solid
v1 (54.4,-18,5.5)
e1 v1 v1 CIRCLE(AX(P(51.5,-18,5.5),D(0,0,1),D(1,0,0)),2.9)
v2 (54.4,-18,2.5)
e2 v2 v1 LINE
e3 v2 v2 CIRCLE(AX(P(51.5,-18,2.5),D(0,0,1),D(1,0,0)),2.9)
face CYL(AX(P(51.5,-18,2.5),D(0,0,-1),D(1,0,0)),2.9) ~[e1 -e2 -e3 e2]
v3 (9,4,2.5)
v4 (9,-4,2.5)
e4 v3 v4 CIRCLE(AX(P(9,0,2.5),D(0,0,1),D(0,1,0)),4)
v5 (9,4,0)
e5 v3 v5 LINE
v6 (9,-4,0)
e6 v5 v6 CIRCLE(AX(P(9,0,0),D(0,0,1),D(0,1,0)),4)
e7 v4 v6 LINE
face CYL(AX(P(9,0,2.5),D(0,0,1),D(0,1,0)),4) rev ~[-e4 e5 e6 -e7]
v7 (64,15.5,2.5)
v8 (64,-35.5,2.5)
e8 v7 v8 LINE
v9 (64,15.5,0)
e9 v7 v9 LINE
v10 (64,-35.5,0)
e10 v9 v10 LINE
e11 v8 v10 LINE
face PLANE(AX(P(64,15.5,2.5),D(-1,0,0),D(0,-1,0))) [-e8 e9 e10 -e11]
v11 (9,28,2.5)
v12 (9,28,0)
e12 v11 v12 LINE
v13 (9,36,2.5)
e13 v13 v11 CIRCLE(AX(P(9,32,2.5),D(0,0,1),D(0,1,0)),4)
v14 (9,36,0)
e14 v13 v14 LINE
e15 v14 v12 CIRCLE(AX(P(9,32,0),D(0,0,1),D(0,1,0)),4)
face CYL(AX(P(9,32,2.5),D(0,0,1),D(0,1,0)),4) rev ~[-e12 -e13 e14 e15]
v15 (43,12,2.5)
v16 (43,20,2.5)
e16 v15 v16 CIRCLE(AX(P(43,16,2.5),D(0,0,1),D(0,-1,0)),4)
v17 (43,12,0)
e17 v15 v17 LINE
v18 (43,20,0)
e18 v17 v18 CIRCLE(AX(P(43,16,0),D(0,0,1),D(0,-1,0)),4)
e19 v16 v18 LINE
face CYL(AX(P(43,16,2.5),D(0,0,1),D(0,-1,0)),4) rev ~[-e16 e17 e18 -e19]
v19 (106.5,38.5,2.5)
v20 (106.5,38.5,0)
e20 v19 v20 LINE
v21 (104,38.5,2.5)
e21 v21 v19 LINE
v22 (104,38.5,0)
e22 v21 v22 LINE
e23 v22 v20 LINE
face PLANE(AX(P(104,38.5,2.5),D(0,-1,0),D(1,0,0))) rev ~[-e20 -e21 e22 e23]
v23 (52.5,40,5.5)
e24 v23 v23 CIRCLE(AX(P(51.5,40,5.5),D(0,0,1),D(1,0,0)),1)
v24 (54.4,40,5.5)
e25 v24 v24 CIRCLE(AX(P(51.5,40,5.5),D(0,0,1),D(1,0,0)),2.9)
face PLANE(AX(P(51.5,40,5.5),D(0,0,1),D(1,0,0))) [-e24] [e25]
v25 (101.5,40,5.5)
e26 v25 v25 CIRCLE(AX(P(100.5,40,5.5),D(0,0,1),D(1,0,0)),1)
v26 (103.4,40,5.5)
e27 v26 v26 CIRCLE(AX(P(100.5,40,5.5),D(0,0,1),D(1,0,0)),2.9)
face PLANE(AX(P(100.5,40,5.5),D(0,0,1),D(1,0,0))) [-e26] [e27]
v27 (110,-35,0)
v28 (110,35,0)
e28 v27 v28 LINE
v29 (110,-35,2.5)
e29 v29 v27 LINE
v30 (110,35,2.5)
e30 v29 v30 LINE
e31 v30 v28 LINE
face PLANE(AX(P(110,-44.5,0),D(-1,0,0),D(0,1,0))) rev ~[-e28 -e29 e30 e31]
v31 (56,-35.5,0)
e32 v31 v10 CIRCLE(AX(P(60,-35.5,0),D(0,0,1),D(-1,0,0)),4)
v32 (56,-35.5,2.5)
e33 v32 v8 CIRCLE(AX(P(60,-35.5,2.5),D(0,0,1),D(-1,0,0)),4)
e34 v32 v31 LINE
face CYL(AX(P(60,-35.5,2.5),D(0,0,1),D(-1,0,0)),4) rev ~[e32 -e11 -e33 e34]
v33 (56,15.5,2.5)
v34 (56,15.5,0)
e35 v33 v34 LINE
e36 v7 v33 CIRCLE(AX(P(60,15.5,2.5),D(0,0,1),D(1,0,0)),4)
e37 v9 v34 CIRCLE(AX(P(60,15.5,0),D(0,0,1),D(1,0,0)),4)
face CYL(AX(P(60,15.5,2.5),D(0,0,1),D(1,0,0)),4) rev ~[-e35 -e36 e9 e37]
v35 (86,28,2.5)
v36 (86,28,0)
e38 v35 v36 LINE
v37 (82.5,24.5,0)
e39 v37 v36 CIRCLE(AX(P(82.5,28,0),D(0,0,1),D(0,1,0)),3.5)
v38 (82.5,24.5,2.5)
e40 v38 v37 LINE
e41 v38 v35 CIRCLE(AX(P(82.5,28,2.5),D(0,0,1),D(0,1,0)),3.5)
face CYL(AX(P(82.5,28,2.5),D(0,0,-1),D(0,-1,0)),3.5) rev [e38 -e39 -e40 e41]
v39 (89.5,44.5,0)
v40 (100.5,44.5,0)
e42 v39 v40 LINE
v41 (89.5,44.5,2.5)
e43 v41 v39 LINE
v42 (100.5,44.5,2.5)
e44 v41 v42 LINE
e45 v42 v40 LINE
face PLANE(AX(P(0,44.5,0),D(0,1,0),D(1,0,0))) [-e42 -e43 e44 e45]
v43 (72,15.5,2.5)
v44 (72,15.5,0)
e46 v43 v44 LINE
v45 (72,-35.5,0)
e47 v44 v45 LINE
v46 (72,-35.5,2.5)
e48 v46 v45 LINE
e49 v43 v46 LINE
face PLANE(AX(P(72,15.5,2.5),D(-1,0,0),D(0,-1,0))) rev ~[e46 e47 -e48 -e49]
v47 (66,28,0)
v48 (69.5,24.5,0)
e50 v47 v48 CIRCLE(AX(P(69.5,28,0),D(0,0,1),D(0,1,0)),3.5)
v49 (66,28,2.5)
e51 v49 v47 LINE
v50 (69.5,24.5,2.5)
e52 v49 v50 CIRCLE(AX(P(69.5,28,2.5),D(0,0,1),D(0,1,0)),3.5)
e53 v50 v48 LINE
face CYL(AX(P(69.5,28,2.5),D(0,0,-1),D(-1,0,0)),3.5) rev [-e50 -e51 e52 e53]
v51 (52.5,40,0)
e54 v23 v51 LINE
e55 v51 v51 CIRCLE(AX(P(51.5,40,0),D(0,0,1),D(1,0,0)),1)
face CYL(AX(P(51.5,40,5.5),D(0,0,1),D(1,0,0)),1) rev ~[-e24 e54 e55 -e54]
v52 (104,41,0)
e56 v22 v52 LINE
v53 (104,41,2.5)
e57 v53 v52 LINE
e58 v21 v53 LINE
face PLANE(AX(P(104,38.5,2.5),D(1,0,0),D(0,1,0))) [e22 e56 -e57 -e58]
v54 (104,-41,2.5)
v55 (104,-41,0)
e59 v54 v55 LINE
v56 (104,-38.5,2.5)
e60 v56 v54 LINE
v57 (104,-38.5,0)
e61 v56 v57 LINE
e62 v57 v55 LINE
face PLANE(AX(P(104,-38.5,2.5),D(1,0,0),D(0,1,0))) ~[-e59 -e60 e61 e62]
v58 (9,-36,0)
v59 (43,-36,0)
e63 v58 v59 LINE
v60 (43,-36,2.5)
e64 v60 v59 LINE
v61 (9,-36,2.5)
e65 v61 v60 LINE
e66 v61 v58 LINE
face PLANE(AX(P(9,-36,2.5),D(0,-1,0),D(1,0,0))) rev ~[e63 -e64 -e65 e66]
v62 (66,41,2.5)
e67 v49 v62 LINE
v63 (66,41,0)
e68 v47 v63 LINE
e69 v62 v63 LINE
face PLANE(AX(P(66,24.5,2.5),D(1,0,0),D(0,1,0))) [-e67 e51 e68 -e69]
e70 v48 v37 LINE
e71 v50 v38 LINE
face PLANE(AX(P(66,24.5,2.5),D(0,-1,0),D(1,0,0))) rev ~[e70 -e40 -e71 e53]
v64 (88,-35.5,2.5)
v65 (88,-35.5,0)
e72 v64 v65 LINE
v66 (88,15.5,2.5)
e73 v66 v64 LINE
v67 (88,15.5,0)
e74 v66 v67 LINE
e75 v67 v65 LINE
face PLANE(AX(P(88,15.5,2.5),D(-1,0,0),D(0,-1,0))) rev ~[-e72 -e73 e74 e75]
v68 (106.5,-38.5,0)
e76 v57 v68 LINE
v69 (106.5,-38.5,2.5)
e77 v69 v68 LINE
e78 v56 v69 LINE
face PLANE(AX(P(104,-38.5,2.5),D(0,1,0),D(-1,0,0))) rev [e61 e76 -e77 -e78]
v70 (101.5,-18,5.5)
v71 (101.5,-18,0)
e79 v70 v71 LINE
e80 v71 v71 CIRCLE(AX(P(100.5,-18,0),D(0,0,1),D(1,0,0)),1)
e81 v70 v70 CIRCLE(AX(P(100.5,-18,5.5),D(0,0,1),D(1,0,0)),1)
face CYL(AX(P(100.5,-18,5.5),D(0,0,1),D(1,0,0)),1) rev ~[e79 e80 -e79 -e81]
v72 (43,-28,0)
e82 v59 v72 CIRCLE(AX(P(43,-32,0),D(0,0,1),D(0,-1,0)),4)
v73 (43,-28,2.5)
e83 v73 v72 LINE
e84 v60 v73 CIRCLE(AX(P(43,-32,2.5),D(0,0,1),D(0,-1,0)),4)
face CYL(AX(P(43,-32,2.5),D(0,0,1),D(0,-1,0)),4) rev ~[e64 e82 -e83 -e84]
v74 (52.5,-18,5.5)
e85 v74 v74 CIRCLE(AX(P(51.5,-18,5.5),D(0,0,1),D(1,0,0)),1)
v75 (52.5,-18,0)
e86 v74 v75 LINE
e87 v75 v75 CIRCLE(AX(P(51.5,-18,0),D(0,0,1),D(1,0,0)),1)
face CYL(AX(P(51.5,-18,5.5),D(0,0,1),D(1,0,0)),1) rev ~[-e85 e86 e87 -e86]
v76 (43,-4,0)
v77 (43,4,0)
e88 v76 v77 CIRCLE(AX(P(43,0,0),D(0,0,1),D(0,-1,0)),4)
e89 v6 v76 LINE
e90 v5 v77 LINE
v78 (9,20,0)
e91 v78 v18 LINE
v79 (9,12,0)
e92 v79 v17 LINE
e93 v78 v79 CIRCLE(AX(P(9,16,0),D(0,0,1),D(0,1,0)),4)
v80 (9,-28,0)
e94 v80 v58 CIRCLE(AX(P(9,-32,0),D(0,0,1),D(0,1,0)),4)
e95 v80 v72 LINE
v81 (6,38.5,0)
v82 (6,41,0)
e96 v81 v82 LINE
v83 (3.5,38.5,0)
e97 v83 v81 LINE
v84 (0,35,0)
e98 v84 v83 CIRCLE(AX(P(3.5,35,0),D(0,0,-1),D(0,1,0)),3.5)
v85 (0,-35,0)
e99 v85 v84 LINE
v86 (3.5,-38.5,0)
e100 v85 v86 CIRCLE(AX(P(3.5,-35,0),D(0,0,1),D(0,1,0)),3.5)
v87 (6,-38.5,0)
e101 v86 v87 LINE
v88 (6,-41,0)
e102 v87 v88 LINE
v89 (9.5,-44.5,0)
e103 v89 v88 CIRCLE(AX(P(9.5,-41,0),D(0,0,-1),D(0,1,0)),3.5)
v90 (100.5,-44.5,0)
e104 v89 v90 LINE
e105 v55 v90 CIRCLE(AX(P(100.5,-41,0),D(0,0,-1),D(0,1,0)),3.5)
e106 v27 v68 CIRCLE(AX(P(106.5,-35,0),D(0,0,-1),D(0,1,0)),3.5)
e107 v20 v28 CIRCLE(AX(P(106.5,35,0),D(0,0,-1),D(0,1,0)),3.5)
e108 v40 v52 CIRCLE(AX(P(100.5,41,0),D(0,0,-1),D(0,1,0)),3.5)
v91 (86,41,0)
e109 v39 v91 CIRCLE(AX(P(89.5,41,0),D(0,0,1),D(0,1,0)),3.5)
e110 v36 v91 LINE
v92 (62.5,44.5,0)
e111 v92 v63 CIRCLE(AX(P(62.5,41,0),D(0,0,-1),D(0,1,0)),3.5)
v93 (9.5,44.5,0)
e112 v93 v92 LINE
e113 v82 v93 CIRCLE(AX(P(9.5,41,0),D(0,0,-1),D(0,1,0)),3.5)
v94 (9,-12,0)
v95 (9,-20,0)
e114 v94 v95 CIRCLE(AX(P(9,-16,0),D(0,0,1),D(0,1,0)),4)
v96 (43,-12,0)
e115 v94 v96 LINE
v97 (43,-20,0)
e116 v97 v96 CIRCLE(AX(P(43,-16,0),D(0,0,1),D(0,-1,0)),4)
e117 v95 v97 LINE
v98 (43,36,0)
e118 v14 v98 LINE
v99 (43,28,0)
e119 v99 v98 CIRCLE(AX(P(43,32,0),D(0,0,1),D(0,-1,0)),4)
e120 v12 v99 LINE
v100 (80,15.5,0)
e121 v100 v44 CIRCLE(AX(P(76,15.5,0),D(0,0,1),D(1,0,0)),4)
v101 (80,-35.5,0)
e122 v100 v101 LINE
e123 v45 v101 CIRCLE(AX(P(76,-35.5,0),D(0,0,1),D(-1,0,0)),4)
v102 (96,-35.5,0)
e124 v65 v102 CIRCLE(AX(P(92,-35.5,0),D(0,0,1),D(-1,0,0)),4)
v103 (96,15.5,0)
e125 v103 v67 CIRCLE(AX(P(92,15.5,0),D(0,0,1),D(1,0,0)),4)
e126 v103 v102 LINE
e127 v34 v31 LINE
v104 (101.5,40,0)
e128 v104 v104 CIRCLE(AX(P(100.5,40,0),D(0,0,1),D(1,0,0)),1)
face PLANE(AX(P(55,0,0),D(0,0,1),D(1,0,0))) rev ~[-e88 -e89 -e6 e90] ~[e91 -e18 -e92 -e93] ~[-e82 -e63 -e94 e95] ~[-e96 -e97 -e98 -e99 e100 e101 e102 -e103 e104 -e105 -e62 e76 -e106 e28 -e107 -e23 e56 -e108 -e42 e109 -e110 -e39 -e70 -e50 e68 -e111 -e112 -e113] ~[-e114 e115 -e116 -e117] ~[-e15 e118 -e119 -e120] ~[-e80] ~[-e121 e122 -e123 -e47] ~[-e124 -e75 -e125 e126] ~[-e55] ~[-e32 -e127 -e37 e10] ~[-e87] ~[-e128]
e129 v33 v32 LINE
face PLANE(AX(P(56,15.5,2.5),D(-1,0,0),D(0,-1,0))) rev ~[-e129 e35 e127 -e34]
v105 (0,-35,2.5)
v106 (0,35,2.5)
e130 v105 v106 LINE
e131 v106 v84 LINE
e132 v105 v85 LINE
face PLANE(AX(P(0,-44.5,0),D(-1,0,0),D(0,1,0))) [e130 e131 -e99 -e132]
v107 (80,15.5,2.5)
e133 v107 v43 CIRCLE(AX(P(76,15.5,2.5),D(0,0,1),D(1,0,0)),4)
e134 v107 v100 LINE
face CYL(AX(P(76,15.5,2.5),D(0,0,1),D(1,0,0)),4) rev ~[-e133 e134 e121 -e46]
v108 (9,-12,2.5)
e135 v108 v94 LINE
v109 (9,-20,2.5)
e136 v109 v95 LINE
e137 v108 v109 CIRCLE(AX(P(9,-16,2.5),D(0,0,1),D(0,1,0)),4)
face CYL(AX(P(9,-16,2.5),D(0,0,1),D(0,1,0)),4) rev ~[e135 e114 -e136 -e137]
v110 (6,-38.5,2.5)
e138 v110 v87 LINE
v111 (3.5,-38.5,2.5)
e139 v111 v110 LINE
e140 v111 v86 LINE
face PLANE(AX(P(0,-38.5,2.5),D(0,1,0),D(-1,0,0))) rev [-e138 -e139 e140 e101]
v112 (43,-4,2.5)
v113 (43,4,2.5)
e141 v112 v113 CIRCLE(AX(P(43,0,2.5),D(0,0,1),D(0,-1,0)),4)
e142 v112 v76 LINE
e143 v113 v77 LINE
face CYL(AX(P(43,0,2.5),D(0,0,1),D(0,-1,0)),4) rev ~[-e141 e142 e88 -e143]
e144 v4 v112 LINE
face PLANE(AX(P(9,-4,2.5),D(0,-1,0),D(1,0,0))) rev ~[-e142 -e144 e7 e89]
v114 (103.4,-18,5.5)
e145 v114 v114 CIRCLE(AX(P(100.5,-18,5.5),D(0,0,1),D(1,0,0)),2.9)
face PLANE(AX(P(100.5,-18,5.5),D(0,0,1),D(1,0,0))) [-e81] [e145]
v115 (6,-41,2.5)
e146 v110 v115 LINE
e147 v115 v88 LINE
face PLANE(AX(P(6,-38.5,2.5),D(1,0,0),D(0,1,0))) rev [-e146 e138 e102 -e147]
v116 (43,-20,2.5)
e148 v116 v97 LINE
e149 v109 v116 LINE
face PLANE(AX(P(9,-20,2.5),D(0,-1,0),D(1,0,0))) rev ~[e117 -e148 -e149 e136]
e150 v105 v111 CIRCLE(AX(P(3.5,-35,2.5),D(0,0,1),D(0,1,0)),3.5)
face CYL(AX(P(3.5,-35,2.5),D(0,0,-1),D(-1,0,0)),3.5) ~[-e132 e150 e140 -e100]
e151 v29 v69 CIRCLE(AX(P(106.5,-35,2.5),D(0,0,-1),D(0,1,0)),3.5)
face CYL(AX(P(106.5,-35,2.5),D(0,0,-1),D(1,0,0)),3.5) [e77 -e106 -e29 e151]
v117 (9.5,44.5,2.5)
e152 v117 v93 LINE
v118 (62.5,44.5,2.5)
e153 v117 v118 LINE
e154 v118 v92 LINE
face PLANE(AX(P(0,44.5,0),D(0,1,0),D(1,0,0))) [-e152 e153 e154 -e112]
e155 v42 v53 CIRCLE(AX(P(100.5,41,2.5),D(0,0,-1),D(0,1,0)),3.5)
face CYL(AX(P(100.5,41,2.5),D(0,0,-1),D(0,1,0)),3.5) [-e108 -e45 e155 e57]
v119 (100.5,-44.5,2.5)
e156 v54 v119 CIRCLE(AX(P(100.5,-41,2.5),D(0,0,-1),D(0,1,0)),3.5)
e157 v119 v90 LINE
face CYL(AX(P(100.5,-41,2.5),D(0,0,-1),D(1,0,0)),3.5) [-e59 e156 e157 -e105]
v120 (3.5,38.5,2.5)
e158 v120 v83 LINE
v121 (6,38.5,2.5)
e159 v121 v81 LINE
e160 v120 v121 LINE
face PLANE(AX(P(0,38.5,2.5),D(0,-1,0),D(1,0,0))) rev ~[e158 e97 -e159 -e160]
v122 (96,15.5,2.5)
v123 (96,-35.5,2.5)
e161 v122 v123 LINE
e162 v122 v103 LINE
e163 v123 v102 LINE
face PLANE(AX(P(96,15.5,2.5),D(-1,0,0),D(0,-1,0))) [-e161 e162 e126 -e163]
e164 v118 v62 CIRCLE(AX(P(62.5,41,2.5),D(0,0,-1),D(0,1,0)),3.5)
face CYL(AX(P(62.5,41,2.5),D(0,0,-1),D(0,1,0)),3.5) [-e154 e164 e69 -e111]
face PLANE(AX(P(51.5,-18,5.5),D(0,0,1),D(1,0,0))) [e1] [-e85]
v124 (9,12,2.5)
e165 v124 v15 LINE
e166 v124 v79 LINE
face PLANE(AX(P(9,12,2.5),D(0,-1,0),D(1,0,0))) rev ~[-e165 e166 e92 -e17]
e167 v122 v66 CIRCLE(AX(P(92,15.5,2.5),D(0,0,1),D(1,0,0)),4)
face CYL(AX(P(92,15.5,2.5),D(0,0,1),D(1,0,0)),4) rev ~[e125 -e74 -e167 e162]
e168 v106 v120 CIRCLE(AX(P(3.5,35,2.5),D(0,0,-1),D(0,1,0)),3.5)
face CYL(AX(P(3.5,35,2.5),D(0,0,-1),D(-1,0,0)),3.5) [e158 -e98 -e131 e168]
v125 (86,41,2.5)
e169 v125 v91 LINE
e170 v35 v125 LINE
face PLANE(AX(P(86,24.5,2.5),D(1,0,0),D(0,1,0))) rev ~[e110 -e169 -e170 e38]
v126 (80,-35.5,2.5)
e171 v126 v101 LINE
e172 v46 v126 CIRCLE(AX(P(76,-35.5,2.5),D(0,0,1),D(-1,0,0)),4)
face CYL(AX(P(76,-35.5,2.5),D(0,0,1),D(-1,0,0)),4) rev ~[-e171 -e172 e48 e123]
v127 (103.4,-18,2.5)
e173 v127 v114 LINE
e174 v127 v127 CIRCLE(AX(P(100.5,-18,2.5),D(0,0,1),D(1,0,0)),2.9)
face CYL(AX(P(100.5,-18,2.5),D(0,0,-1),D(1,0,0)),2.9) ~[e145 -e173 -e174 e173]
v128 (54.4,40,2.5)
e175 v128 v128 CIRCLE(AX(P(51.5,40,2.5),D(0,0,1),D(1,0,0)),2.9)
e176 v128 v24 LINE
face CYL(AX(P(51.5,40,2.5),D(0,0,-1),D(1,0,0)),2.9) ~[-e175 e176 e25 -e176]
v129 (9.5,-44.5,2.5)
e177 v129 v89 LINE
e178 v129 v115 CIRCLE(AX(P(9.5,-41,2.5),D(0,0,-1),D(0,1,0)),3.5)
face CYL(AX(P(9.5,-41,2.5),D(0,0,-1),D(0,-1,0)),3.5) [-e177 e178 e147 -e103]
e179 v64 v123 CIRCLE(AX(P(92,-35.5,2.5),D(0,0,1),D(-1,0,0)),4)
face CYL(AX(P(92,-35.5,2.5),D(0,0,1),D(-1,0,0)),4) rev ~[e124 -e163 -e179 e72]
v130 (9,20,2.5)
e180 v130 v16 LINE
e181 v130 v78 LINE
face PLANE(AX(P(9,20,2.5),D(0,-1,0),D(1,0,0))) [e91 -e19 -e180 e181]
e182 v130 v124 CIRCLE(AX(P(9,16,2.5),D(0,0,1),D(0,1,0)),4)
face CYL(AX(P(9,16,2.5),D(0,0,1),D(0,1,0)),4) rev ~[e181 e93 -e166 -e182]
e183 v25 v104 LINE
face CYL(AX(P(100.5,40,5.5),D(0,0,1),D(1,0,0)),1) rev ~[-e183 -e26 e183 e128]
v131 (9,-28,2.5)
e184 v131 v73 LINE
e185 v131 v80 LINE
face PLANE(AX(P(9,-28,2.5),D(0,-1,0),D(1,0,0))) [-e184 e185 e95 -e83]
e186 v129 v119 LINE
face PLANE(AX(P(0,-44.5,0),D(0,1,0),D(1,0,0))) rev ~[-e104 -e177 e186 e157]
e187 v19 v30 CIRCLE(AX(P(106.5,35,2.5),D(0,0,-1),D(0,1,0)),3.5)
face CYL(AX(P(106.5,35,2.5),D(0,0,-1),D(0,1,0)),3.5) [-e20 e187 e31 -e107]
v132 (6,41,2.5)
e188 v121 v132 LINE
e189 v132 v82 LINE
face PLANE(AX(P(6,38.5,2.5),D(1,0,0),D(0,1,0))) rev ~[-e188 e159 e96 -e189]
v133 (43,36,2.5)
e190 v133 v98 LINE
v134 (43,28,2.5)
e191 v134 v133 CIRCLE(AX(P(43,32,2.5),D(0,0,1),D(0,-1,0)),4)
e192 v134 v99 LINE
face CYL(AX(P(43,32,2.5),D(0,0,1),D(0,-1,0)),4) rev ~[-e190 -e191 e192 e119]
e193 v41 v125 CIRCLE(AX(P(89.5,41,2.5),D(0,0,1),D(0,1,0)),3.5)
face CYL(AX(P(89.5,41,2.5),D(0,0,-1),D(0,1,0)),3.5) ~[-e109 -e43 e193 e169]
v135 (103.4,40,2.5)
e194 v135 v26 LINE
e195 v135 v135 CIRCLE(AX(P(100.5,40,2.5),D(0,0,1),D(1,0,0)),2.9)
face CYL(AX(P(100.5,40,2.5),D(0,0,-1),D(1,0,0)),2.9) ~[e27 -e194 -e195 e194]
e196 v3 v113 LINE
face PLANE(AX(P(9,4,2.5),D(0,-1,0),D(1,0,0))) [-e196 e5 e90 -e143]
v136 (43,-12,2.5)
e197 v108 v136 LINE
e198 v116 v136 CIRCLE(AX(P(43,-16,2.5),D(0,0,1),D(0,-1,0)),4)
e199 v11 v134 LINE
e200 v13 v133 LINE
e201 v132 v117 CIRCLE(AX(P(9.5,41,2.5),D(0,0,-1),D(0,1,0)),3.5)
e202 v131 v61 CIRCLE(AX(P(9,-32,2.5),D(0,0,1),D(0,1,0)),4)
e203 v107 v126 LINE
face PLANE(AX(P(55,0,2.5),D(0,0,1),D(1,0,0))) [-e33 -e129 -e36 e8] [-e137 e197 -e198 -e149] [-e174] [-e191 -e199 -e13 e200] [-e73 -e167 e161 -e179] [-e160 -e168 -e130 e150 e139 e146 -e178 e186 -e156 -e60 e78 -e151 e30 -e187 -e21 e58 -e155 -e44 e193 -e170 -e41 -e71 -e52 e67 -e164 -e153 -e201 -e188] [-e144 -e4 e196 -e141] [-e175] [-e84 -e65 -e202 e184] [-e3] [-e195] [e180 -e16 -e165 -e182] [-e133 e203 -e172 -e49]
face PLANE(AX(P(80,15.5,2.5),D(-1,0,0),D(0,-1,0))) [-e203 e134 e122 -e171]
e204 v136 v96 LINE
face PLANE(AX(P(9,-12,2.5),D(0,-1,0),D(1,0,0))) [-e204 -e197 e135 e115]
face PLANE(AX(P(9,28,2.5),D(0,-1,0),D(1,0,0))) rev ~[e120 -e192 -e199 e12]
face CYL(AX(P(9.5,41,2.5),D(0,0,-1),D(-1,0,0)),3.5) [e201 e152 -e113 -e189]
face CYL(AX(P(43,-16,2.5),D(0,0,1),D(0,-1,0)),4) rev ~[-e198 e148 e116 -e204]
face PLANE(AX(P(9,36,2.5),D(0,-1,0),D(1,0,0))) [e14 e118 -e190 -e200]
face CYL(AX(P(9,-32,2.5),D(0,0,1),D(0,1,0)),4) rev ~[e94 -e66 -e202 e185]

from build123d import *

# Parameters (mm, degrees)
SKETCH_W                           = 110
SKETCH_H                           = 89
PAD_DEPTH                          = 2.5
SKETCH001_R                        = 2.9
PAD001_DEPTH                       = 3
SKETCH002_R                        = 1
POCKET_DEPTH                       = 5.501
SKETCH003_W                        = 20
SKETCH003_H                        = 20
POCKET001_DEPTH                    = 2.501
POCKET002_DEPTH                    = 285.705873
POCKET002_LINEARPATTERN_2_DEPTH    = 285.705873
LINEARPATTERN001_COUNT             = 2
LINEARPATTERN001_PITCH             = 16
POCKET003_DEPTH                    = 285.705873
POCKET003_LINEARPATTERN002_2_DEPTH = 285.705873
POCKET003_LINEARPATTERN002_3_DEPTH = 285.705873
LINEARPATTERN003_COUNT             = 3
LINEARPATTERN003_PITCH             = 16
FILLET_R                           = 3.5
SKETCH006_W                        = 6
SKETCH006_H                        = 6
POCKET004_DEPTH                    = 285.705873
FILLET001_R                        = 3.5


with BuildPart() as part:
    # Sketch → Pad (new body)
    with BuildSketch(Plane.XY):
        with Locations((55, 0)):
            Rectangle(SKETCH_W, SKETCH_H)
    extrude(amount=PAD_DEPTH)

    # Sketch001 (on Face6 of Pad) → Pad001 (join)
    with BuildSketch(Plane.XY.offset(2.5)):
        with Locations((100.5, 40)):
            Circle(SKETCH001_R)
        with Locations((100.5, -18)):
            Circle(SKETCH001_R)
        with Locations((51.5, 40)):
            Circle(SKETCH001_R)
        with Locations((51.5, -18)):
            Circle(SKETCH001_R)
    extrude(amount=PAD001_DEPTH)

    # Sketch002 (on Face13 of Pad001) → Pocket (cut, through all)
    with BuildSketch(Plane.XY.offset(5.5)):
        with Locations((51.5, 40)):
            Circle(SKETCH002_R)
        with Locations((100.5, 40)):
            Circle(SKETCH002_R)
        with Locations((51.5, -18)):
            Circle(SKETCH002_R)
        with Locations((100.5, -18)):
            Circle(SKETCH002_R)
    extrude(amount=-POCKET_DEPTH, mode=Mode.SUBTRACT)

    # Sketch003 → Pocket001 (cut, through all)
    with BuildSketch(Plane.XY.offset(2.5)):
        with Locations((76, 34.5)):
            Rectangle(SKETCH003_W, SKETCH003_H)
    extrude(amount=-POCKET001_DEPTH, mode=Mode.SUBTRACT)

    # Sketch004 (on Face5 of Pocket001) → Pocket002 (cut, through all)
    with BuildSketch(Plane.XY.offset(2.5)):
        with BuildLine():
            ThreePointArc((80, 15.5), (76, 19.5), (72, 15.5))
            Line((72, 15.5), (72, -35.5))
            ThreePointArc((72, -35.5), (76, -39.5), (80, -35.5))
            Line((80, 15.5), (80, -35.5))
        make_face()
    pocket002 = extrude(amount=-POCKET002_DEPTH, mode=Mode.SUBTRACT)

    # Sketch004 LinearPattern 2 → Pocket002 LinearPattern 2 (cut, through all)
    with BuildSketch(Plane(origin=(16, 0, 2.5), x_dir=(1, 0, 0), z_dir=(0, 0, 1))):
        with BuildLine():
            ThreePointArc((80, 15.5), (76, 19.5), (72, 15.5))
            Line((72, 15.5), (72, -35.5))
            ThreePointArc((72, -35.5), (76, -39.5), (80, -35.5))
            Line((80, 15.5), (80, -35.5))
        make_face()
    pocket002_linearpattern_2 = extrude(amount=-POCKET002_LINEARPATTERN_2_DEPTH, mode=Mode.SUBTRACT)

    # LinearPattern001: Pocket002, Pocket002 LinearPattern 2 ×2
    with Locations(*[(-i * LINEARPATTERN001_PITCH, 0, 0) for i in range(1, LINEARPATTERN001_COUNT)]):
        add(pocket002, mode=Mode.SUBTRACT)
        add(pocket002_linearpattern_2, mode=Mode.SUBTRACT)

    # Sketch005 (on Face5 of MultiTransform) → Pocket003 (cut, through all)
    with BuildSketch(Plane.XY.offset(2.5)):
        with BuildLine():
            ThreePointArc((9, 4), (5, 0), (9, -4))
            Line((9, -4), (43, -4))
            ThreePointArc((43, -4), (47, 0), (43, 4))
            Line((9, 4), (43, 4))
        make_face()
    pocket003 = extrude(amount=-POCKET003_DEPTH, mode=Mode.SUBTRACT)

    # Sketch005 LinearPattern002 2 → Pocket003 LinearPattern002 2 (cut, through all)
    with BuildSketch(Plane(origin=(0, 16, 2.5), x_dir=(1, 0, 0), z_dir=(0, 0, 1))):
        with BuildLine():
            ThreePointArc((9, 4), (5, 0), (9, -4))
            Line((9, -4), (43, -4))
            ThreePointArc((43, -4), (47, 0), (43, 4))
            Line((9, 4), (43, 4))
        make_face()
    pocket003_linearpattern002_2 = extrude(amount=-POCKET003_LINEARPATTERN002_2_DEPTH, mode=Mode.SUBTRACT)

    # Sketch005 LinearPattern002 3 → Pocket003 LinearPattern002 3 (cut, through all)
    with BuildSketch(Plane(origin=(0, 32, 2.5), x_dir=(1, 0, 0), z_dir=(0, 0, 1))):
        with BuildLine():
            ThreePointArc((9, 4), (5, 0), (9, -4))
            Line((9, -4), (43, -4))
            ThreePointArc((43, -4), (47, 0), (43, 4))
            Line((9, 4), (43, 4))
        make_face()
    pocket003_linearpattern002_3 = extrude(amount=-POCKET003_LINEARPATTERN002_3_DEPTH, mode=Mode.SUBTRACT)

    # LinearPattern003: Pocket003, Pocket003 LinearPattern002 2, Pocket003 LinearPattern002 3 ×3
    with Locations(*[(0, -i * LINEARPATTERN003_PITCH, 0) for i in range(1, LINEARPATTERN003_COUNT)]):
        add(pocket003, mode=Mode.SUBTRACT)
        add(pocket003_linearpattern002_2, mode=Mode.SUBTRACT)
        add(pocket003_linearpattern002_3, mode=Mode.SUBTRACT)

    # Fillet
    fillet_edges = [part.edges().sort_by_distance(p)[0] for p in [
        (110, 44.5, 1.25),
        (66, 44.5, 1.25),
        (66, 24.5, 1.25),
        (110, -44.5, 1.25),
        (86, 44.5, 1.25),
        (86, 24.5, 1.25),
        (0, 44.5, 1.25),
        (0, -44.5, 1.25),
    ]]
    fillet(fillet_edges, radius=FILLET_R)

    # Sketch006 (on Face5 of Fillet) → Pocket004 (cut, through all)
    with BuildSketch(Plane.XY.offset(2.5)):
        with Locations((3, 41.5)):
            Rectangle(SKETCH006_W, SKETCH006_H)
        with Locations((107, 41.5)):
            Rectangle(SKETCH006_W, SKETCH006_H)
    pocket004 = extrude(amount=-POCKET004_DEPTH, mode=Mode.SUBTRACT)

    # Mirrored: Pocket004 across XZ
    add(pocket004.mirror(Plane.XZ), mode=Mode.SUBTRACT)

    # Fillet001
    fillet001_edges = [part.edges().sort_by_distance(p)[0] for p in [
        (6, 44.5, 1.25),
        (0, 38.5, 1.25),
        (104, 44.5, 1.25),
        (110, 38.5, 1.25),
        (110, -38.5, 1.25),
        (104, -44.5, 1.25),
        (6, -44.5, 1.25),
        (0, -38.5, 1.25),
    ]]
    fillet(fillet001_edges, radius=FILLET001_R)


solid = part.part
